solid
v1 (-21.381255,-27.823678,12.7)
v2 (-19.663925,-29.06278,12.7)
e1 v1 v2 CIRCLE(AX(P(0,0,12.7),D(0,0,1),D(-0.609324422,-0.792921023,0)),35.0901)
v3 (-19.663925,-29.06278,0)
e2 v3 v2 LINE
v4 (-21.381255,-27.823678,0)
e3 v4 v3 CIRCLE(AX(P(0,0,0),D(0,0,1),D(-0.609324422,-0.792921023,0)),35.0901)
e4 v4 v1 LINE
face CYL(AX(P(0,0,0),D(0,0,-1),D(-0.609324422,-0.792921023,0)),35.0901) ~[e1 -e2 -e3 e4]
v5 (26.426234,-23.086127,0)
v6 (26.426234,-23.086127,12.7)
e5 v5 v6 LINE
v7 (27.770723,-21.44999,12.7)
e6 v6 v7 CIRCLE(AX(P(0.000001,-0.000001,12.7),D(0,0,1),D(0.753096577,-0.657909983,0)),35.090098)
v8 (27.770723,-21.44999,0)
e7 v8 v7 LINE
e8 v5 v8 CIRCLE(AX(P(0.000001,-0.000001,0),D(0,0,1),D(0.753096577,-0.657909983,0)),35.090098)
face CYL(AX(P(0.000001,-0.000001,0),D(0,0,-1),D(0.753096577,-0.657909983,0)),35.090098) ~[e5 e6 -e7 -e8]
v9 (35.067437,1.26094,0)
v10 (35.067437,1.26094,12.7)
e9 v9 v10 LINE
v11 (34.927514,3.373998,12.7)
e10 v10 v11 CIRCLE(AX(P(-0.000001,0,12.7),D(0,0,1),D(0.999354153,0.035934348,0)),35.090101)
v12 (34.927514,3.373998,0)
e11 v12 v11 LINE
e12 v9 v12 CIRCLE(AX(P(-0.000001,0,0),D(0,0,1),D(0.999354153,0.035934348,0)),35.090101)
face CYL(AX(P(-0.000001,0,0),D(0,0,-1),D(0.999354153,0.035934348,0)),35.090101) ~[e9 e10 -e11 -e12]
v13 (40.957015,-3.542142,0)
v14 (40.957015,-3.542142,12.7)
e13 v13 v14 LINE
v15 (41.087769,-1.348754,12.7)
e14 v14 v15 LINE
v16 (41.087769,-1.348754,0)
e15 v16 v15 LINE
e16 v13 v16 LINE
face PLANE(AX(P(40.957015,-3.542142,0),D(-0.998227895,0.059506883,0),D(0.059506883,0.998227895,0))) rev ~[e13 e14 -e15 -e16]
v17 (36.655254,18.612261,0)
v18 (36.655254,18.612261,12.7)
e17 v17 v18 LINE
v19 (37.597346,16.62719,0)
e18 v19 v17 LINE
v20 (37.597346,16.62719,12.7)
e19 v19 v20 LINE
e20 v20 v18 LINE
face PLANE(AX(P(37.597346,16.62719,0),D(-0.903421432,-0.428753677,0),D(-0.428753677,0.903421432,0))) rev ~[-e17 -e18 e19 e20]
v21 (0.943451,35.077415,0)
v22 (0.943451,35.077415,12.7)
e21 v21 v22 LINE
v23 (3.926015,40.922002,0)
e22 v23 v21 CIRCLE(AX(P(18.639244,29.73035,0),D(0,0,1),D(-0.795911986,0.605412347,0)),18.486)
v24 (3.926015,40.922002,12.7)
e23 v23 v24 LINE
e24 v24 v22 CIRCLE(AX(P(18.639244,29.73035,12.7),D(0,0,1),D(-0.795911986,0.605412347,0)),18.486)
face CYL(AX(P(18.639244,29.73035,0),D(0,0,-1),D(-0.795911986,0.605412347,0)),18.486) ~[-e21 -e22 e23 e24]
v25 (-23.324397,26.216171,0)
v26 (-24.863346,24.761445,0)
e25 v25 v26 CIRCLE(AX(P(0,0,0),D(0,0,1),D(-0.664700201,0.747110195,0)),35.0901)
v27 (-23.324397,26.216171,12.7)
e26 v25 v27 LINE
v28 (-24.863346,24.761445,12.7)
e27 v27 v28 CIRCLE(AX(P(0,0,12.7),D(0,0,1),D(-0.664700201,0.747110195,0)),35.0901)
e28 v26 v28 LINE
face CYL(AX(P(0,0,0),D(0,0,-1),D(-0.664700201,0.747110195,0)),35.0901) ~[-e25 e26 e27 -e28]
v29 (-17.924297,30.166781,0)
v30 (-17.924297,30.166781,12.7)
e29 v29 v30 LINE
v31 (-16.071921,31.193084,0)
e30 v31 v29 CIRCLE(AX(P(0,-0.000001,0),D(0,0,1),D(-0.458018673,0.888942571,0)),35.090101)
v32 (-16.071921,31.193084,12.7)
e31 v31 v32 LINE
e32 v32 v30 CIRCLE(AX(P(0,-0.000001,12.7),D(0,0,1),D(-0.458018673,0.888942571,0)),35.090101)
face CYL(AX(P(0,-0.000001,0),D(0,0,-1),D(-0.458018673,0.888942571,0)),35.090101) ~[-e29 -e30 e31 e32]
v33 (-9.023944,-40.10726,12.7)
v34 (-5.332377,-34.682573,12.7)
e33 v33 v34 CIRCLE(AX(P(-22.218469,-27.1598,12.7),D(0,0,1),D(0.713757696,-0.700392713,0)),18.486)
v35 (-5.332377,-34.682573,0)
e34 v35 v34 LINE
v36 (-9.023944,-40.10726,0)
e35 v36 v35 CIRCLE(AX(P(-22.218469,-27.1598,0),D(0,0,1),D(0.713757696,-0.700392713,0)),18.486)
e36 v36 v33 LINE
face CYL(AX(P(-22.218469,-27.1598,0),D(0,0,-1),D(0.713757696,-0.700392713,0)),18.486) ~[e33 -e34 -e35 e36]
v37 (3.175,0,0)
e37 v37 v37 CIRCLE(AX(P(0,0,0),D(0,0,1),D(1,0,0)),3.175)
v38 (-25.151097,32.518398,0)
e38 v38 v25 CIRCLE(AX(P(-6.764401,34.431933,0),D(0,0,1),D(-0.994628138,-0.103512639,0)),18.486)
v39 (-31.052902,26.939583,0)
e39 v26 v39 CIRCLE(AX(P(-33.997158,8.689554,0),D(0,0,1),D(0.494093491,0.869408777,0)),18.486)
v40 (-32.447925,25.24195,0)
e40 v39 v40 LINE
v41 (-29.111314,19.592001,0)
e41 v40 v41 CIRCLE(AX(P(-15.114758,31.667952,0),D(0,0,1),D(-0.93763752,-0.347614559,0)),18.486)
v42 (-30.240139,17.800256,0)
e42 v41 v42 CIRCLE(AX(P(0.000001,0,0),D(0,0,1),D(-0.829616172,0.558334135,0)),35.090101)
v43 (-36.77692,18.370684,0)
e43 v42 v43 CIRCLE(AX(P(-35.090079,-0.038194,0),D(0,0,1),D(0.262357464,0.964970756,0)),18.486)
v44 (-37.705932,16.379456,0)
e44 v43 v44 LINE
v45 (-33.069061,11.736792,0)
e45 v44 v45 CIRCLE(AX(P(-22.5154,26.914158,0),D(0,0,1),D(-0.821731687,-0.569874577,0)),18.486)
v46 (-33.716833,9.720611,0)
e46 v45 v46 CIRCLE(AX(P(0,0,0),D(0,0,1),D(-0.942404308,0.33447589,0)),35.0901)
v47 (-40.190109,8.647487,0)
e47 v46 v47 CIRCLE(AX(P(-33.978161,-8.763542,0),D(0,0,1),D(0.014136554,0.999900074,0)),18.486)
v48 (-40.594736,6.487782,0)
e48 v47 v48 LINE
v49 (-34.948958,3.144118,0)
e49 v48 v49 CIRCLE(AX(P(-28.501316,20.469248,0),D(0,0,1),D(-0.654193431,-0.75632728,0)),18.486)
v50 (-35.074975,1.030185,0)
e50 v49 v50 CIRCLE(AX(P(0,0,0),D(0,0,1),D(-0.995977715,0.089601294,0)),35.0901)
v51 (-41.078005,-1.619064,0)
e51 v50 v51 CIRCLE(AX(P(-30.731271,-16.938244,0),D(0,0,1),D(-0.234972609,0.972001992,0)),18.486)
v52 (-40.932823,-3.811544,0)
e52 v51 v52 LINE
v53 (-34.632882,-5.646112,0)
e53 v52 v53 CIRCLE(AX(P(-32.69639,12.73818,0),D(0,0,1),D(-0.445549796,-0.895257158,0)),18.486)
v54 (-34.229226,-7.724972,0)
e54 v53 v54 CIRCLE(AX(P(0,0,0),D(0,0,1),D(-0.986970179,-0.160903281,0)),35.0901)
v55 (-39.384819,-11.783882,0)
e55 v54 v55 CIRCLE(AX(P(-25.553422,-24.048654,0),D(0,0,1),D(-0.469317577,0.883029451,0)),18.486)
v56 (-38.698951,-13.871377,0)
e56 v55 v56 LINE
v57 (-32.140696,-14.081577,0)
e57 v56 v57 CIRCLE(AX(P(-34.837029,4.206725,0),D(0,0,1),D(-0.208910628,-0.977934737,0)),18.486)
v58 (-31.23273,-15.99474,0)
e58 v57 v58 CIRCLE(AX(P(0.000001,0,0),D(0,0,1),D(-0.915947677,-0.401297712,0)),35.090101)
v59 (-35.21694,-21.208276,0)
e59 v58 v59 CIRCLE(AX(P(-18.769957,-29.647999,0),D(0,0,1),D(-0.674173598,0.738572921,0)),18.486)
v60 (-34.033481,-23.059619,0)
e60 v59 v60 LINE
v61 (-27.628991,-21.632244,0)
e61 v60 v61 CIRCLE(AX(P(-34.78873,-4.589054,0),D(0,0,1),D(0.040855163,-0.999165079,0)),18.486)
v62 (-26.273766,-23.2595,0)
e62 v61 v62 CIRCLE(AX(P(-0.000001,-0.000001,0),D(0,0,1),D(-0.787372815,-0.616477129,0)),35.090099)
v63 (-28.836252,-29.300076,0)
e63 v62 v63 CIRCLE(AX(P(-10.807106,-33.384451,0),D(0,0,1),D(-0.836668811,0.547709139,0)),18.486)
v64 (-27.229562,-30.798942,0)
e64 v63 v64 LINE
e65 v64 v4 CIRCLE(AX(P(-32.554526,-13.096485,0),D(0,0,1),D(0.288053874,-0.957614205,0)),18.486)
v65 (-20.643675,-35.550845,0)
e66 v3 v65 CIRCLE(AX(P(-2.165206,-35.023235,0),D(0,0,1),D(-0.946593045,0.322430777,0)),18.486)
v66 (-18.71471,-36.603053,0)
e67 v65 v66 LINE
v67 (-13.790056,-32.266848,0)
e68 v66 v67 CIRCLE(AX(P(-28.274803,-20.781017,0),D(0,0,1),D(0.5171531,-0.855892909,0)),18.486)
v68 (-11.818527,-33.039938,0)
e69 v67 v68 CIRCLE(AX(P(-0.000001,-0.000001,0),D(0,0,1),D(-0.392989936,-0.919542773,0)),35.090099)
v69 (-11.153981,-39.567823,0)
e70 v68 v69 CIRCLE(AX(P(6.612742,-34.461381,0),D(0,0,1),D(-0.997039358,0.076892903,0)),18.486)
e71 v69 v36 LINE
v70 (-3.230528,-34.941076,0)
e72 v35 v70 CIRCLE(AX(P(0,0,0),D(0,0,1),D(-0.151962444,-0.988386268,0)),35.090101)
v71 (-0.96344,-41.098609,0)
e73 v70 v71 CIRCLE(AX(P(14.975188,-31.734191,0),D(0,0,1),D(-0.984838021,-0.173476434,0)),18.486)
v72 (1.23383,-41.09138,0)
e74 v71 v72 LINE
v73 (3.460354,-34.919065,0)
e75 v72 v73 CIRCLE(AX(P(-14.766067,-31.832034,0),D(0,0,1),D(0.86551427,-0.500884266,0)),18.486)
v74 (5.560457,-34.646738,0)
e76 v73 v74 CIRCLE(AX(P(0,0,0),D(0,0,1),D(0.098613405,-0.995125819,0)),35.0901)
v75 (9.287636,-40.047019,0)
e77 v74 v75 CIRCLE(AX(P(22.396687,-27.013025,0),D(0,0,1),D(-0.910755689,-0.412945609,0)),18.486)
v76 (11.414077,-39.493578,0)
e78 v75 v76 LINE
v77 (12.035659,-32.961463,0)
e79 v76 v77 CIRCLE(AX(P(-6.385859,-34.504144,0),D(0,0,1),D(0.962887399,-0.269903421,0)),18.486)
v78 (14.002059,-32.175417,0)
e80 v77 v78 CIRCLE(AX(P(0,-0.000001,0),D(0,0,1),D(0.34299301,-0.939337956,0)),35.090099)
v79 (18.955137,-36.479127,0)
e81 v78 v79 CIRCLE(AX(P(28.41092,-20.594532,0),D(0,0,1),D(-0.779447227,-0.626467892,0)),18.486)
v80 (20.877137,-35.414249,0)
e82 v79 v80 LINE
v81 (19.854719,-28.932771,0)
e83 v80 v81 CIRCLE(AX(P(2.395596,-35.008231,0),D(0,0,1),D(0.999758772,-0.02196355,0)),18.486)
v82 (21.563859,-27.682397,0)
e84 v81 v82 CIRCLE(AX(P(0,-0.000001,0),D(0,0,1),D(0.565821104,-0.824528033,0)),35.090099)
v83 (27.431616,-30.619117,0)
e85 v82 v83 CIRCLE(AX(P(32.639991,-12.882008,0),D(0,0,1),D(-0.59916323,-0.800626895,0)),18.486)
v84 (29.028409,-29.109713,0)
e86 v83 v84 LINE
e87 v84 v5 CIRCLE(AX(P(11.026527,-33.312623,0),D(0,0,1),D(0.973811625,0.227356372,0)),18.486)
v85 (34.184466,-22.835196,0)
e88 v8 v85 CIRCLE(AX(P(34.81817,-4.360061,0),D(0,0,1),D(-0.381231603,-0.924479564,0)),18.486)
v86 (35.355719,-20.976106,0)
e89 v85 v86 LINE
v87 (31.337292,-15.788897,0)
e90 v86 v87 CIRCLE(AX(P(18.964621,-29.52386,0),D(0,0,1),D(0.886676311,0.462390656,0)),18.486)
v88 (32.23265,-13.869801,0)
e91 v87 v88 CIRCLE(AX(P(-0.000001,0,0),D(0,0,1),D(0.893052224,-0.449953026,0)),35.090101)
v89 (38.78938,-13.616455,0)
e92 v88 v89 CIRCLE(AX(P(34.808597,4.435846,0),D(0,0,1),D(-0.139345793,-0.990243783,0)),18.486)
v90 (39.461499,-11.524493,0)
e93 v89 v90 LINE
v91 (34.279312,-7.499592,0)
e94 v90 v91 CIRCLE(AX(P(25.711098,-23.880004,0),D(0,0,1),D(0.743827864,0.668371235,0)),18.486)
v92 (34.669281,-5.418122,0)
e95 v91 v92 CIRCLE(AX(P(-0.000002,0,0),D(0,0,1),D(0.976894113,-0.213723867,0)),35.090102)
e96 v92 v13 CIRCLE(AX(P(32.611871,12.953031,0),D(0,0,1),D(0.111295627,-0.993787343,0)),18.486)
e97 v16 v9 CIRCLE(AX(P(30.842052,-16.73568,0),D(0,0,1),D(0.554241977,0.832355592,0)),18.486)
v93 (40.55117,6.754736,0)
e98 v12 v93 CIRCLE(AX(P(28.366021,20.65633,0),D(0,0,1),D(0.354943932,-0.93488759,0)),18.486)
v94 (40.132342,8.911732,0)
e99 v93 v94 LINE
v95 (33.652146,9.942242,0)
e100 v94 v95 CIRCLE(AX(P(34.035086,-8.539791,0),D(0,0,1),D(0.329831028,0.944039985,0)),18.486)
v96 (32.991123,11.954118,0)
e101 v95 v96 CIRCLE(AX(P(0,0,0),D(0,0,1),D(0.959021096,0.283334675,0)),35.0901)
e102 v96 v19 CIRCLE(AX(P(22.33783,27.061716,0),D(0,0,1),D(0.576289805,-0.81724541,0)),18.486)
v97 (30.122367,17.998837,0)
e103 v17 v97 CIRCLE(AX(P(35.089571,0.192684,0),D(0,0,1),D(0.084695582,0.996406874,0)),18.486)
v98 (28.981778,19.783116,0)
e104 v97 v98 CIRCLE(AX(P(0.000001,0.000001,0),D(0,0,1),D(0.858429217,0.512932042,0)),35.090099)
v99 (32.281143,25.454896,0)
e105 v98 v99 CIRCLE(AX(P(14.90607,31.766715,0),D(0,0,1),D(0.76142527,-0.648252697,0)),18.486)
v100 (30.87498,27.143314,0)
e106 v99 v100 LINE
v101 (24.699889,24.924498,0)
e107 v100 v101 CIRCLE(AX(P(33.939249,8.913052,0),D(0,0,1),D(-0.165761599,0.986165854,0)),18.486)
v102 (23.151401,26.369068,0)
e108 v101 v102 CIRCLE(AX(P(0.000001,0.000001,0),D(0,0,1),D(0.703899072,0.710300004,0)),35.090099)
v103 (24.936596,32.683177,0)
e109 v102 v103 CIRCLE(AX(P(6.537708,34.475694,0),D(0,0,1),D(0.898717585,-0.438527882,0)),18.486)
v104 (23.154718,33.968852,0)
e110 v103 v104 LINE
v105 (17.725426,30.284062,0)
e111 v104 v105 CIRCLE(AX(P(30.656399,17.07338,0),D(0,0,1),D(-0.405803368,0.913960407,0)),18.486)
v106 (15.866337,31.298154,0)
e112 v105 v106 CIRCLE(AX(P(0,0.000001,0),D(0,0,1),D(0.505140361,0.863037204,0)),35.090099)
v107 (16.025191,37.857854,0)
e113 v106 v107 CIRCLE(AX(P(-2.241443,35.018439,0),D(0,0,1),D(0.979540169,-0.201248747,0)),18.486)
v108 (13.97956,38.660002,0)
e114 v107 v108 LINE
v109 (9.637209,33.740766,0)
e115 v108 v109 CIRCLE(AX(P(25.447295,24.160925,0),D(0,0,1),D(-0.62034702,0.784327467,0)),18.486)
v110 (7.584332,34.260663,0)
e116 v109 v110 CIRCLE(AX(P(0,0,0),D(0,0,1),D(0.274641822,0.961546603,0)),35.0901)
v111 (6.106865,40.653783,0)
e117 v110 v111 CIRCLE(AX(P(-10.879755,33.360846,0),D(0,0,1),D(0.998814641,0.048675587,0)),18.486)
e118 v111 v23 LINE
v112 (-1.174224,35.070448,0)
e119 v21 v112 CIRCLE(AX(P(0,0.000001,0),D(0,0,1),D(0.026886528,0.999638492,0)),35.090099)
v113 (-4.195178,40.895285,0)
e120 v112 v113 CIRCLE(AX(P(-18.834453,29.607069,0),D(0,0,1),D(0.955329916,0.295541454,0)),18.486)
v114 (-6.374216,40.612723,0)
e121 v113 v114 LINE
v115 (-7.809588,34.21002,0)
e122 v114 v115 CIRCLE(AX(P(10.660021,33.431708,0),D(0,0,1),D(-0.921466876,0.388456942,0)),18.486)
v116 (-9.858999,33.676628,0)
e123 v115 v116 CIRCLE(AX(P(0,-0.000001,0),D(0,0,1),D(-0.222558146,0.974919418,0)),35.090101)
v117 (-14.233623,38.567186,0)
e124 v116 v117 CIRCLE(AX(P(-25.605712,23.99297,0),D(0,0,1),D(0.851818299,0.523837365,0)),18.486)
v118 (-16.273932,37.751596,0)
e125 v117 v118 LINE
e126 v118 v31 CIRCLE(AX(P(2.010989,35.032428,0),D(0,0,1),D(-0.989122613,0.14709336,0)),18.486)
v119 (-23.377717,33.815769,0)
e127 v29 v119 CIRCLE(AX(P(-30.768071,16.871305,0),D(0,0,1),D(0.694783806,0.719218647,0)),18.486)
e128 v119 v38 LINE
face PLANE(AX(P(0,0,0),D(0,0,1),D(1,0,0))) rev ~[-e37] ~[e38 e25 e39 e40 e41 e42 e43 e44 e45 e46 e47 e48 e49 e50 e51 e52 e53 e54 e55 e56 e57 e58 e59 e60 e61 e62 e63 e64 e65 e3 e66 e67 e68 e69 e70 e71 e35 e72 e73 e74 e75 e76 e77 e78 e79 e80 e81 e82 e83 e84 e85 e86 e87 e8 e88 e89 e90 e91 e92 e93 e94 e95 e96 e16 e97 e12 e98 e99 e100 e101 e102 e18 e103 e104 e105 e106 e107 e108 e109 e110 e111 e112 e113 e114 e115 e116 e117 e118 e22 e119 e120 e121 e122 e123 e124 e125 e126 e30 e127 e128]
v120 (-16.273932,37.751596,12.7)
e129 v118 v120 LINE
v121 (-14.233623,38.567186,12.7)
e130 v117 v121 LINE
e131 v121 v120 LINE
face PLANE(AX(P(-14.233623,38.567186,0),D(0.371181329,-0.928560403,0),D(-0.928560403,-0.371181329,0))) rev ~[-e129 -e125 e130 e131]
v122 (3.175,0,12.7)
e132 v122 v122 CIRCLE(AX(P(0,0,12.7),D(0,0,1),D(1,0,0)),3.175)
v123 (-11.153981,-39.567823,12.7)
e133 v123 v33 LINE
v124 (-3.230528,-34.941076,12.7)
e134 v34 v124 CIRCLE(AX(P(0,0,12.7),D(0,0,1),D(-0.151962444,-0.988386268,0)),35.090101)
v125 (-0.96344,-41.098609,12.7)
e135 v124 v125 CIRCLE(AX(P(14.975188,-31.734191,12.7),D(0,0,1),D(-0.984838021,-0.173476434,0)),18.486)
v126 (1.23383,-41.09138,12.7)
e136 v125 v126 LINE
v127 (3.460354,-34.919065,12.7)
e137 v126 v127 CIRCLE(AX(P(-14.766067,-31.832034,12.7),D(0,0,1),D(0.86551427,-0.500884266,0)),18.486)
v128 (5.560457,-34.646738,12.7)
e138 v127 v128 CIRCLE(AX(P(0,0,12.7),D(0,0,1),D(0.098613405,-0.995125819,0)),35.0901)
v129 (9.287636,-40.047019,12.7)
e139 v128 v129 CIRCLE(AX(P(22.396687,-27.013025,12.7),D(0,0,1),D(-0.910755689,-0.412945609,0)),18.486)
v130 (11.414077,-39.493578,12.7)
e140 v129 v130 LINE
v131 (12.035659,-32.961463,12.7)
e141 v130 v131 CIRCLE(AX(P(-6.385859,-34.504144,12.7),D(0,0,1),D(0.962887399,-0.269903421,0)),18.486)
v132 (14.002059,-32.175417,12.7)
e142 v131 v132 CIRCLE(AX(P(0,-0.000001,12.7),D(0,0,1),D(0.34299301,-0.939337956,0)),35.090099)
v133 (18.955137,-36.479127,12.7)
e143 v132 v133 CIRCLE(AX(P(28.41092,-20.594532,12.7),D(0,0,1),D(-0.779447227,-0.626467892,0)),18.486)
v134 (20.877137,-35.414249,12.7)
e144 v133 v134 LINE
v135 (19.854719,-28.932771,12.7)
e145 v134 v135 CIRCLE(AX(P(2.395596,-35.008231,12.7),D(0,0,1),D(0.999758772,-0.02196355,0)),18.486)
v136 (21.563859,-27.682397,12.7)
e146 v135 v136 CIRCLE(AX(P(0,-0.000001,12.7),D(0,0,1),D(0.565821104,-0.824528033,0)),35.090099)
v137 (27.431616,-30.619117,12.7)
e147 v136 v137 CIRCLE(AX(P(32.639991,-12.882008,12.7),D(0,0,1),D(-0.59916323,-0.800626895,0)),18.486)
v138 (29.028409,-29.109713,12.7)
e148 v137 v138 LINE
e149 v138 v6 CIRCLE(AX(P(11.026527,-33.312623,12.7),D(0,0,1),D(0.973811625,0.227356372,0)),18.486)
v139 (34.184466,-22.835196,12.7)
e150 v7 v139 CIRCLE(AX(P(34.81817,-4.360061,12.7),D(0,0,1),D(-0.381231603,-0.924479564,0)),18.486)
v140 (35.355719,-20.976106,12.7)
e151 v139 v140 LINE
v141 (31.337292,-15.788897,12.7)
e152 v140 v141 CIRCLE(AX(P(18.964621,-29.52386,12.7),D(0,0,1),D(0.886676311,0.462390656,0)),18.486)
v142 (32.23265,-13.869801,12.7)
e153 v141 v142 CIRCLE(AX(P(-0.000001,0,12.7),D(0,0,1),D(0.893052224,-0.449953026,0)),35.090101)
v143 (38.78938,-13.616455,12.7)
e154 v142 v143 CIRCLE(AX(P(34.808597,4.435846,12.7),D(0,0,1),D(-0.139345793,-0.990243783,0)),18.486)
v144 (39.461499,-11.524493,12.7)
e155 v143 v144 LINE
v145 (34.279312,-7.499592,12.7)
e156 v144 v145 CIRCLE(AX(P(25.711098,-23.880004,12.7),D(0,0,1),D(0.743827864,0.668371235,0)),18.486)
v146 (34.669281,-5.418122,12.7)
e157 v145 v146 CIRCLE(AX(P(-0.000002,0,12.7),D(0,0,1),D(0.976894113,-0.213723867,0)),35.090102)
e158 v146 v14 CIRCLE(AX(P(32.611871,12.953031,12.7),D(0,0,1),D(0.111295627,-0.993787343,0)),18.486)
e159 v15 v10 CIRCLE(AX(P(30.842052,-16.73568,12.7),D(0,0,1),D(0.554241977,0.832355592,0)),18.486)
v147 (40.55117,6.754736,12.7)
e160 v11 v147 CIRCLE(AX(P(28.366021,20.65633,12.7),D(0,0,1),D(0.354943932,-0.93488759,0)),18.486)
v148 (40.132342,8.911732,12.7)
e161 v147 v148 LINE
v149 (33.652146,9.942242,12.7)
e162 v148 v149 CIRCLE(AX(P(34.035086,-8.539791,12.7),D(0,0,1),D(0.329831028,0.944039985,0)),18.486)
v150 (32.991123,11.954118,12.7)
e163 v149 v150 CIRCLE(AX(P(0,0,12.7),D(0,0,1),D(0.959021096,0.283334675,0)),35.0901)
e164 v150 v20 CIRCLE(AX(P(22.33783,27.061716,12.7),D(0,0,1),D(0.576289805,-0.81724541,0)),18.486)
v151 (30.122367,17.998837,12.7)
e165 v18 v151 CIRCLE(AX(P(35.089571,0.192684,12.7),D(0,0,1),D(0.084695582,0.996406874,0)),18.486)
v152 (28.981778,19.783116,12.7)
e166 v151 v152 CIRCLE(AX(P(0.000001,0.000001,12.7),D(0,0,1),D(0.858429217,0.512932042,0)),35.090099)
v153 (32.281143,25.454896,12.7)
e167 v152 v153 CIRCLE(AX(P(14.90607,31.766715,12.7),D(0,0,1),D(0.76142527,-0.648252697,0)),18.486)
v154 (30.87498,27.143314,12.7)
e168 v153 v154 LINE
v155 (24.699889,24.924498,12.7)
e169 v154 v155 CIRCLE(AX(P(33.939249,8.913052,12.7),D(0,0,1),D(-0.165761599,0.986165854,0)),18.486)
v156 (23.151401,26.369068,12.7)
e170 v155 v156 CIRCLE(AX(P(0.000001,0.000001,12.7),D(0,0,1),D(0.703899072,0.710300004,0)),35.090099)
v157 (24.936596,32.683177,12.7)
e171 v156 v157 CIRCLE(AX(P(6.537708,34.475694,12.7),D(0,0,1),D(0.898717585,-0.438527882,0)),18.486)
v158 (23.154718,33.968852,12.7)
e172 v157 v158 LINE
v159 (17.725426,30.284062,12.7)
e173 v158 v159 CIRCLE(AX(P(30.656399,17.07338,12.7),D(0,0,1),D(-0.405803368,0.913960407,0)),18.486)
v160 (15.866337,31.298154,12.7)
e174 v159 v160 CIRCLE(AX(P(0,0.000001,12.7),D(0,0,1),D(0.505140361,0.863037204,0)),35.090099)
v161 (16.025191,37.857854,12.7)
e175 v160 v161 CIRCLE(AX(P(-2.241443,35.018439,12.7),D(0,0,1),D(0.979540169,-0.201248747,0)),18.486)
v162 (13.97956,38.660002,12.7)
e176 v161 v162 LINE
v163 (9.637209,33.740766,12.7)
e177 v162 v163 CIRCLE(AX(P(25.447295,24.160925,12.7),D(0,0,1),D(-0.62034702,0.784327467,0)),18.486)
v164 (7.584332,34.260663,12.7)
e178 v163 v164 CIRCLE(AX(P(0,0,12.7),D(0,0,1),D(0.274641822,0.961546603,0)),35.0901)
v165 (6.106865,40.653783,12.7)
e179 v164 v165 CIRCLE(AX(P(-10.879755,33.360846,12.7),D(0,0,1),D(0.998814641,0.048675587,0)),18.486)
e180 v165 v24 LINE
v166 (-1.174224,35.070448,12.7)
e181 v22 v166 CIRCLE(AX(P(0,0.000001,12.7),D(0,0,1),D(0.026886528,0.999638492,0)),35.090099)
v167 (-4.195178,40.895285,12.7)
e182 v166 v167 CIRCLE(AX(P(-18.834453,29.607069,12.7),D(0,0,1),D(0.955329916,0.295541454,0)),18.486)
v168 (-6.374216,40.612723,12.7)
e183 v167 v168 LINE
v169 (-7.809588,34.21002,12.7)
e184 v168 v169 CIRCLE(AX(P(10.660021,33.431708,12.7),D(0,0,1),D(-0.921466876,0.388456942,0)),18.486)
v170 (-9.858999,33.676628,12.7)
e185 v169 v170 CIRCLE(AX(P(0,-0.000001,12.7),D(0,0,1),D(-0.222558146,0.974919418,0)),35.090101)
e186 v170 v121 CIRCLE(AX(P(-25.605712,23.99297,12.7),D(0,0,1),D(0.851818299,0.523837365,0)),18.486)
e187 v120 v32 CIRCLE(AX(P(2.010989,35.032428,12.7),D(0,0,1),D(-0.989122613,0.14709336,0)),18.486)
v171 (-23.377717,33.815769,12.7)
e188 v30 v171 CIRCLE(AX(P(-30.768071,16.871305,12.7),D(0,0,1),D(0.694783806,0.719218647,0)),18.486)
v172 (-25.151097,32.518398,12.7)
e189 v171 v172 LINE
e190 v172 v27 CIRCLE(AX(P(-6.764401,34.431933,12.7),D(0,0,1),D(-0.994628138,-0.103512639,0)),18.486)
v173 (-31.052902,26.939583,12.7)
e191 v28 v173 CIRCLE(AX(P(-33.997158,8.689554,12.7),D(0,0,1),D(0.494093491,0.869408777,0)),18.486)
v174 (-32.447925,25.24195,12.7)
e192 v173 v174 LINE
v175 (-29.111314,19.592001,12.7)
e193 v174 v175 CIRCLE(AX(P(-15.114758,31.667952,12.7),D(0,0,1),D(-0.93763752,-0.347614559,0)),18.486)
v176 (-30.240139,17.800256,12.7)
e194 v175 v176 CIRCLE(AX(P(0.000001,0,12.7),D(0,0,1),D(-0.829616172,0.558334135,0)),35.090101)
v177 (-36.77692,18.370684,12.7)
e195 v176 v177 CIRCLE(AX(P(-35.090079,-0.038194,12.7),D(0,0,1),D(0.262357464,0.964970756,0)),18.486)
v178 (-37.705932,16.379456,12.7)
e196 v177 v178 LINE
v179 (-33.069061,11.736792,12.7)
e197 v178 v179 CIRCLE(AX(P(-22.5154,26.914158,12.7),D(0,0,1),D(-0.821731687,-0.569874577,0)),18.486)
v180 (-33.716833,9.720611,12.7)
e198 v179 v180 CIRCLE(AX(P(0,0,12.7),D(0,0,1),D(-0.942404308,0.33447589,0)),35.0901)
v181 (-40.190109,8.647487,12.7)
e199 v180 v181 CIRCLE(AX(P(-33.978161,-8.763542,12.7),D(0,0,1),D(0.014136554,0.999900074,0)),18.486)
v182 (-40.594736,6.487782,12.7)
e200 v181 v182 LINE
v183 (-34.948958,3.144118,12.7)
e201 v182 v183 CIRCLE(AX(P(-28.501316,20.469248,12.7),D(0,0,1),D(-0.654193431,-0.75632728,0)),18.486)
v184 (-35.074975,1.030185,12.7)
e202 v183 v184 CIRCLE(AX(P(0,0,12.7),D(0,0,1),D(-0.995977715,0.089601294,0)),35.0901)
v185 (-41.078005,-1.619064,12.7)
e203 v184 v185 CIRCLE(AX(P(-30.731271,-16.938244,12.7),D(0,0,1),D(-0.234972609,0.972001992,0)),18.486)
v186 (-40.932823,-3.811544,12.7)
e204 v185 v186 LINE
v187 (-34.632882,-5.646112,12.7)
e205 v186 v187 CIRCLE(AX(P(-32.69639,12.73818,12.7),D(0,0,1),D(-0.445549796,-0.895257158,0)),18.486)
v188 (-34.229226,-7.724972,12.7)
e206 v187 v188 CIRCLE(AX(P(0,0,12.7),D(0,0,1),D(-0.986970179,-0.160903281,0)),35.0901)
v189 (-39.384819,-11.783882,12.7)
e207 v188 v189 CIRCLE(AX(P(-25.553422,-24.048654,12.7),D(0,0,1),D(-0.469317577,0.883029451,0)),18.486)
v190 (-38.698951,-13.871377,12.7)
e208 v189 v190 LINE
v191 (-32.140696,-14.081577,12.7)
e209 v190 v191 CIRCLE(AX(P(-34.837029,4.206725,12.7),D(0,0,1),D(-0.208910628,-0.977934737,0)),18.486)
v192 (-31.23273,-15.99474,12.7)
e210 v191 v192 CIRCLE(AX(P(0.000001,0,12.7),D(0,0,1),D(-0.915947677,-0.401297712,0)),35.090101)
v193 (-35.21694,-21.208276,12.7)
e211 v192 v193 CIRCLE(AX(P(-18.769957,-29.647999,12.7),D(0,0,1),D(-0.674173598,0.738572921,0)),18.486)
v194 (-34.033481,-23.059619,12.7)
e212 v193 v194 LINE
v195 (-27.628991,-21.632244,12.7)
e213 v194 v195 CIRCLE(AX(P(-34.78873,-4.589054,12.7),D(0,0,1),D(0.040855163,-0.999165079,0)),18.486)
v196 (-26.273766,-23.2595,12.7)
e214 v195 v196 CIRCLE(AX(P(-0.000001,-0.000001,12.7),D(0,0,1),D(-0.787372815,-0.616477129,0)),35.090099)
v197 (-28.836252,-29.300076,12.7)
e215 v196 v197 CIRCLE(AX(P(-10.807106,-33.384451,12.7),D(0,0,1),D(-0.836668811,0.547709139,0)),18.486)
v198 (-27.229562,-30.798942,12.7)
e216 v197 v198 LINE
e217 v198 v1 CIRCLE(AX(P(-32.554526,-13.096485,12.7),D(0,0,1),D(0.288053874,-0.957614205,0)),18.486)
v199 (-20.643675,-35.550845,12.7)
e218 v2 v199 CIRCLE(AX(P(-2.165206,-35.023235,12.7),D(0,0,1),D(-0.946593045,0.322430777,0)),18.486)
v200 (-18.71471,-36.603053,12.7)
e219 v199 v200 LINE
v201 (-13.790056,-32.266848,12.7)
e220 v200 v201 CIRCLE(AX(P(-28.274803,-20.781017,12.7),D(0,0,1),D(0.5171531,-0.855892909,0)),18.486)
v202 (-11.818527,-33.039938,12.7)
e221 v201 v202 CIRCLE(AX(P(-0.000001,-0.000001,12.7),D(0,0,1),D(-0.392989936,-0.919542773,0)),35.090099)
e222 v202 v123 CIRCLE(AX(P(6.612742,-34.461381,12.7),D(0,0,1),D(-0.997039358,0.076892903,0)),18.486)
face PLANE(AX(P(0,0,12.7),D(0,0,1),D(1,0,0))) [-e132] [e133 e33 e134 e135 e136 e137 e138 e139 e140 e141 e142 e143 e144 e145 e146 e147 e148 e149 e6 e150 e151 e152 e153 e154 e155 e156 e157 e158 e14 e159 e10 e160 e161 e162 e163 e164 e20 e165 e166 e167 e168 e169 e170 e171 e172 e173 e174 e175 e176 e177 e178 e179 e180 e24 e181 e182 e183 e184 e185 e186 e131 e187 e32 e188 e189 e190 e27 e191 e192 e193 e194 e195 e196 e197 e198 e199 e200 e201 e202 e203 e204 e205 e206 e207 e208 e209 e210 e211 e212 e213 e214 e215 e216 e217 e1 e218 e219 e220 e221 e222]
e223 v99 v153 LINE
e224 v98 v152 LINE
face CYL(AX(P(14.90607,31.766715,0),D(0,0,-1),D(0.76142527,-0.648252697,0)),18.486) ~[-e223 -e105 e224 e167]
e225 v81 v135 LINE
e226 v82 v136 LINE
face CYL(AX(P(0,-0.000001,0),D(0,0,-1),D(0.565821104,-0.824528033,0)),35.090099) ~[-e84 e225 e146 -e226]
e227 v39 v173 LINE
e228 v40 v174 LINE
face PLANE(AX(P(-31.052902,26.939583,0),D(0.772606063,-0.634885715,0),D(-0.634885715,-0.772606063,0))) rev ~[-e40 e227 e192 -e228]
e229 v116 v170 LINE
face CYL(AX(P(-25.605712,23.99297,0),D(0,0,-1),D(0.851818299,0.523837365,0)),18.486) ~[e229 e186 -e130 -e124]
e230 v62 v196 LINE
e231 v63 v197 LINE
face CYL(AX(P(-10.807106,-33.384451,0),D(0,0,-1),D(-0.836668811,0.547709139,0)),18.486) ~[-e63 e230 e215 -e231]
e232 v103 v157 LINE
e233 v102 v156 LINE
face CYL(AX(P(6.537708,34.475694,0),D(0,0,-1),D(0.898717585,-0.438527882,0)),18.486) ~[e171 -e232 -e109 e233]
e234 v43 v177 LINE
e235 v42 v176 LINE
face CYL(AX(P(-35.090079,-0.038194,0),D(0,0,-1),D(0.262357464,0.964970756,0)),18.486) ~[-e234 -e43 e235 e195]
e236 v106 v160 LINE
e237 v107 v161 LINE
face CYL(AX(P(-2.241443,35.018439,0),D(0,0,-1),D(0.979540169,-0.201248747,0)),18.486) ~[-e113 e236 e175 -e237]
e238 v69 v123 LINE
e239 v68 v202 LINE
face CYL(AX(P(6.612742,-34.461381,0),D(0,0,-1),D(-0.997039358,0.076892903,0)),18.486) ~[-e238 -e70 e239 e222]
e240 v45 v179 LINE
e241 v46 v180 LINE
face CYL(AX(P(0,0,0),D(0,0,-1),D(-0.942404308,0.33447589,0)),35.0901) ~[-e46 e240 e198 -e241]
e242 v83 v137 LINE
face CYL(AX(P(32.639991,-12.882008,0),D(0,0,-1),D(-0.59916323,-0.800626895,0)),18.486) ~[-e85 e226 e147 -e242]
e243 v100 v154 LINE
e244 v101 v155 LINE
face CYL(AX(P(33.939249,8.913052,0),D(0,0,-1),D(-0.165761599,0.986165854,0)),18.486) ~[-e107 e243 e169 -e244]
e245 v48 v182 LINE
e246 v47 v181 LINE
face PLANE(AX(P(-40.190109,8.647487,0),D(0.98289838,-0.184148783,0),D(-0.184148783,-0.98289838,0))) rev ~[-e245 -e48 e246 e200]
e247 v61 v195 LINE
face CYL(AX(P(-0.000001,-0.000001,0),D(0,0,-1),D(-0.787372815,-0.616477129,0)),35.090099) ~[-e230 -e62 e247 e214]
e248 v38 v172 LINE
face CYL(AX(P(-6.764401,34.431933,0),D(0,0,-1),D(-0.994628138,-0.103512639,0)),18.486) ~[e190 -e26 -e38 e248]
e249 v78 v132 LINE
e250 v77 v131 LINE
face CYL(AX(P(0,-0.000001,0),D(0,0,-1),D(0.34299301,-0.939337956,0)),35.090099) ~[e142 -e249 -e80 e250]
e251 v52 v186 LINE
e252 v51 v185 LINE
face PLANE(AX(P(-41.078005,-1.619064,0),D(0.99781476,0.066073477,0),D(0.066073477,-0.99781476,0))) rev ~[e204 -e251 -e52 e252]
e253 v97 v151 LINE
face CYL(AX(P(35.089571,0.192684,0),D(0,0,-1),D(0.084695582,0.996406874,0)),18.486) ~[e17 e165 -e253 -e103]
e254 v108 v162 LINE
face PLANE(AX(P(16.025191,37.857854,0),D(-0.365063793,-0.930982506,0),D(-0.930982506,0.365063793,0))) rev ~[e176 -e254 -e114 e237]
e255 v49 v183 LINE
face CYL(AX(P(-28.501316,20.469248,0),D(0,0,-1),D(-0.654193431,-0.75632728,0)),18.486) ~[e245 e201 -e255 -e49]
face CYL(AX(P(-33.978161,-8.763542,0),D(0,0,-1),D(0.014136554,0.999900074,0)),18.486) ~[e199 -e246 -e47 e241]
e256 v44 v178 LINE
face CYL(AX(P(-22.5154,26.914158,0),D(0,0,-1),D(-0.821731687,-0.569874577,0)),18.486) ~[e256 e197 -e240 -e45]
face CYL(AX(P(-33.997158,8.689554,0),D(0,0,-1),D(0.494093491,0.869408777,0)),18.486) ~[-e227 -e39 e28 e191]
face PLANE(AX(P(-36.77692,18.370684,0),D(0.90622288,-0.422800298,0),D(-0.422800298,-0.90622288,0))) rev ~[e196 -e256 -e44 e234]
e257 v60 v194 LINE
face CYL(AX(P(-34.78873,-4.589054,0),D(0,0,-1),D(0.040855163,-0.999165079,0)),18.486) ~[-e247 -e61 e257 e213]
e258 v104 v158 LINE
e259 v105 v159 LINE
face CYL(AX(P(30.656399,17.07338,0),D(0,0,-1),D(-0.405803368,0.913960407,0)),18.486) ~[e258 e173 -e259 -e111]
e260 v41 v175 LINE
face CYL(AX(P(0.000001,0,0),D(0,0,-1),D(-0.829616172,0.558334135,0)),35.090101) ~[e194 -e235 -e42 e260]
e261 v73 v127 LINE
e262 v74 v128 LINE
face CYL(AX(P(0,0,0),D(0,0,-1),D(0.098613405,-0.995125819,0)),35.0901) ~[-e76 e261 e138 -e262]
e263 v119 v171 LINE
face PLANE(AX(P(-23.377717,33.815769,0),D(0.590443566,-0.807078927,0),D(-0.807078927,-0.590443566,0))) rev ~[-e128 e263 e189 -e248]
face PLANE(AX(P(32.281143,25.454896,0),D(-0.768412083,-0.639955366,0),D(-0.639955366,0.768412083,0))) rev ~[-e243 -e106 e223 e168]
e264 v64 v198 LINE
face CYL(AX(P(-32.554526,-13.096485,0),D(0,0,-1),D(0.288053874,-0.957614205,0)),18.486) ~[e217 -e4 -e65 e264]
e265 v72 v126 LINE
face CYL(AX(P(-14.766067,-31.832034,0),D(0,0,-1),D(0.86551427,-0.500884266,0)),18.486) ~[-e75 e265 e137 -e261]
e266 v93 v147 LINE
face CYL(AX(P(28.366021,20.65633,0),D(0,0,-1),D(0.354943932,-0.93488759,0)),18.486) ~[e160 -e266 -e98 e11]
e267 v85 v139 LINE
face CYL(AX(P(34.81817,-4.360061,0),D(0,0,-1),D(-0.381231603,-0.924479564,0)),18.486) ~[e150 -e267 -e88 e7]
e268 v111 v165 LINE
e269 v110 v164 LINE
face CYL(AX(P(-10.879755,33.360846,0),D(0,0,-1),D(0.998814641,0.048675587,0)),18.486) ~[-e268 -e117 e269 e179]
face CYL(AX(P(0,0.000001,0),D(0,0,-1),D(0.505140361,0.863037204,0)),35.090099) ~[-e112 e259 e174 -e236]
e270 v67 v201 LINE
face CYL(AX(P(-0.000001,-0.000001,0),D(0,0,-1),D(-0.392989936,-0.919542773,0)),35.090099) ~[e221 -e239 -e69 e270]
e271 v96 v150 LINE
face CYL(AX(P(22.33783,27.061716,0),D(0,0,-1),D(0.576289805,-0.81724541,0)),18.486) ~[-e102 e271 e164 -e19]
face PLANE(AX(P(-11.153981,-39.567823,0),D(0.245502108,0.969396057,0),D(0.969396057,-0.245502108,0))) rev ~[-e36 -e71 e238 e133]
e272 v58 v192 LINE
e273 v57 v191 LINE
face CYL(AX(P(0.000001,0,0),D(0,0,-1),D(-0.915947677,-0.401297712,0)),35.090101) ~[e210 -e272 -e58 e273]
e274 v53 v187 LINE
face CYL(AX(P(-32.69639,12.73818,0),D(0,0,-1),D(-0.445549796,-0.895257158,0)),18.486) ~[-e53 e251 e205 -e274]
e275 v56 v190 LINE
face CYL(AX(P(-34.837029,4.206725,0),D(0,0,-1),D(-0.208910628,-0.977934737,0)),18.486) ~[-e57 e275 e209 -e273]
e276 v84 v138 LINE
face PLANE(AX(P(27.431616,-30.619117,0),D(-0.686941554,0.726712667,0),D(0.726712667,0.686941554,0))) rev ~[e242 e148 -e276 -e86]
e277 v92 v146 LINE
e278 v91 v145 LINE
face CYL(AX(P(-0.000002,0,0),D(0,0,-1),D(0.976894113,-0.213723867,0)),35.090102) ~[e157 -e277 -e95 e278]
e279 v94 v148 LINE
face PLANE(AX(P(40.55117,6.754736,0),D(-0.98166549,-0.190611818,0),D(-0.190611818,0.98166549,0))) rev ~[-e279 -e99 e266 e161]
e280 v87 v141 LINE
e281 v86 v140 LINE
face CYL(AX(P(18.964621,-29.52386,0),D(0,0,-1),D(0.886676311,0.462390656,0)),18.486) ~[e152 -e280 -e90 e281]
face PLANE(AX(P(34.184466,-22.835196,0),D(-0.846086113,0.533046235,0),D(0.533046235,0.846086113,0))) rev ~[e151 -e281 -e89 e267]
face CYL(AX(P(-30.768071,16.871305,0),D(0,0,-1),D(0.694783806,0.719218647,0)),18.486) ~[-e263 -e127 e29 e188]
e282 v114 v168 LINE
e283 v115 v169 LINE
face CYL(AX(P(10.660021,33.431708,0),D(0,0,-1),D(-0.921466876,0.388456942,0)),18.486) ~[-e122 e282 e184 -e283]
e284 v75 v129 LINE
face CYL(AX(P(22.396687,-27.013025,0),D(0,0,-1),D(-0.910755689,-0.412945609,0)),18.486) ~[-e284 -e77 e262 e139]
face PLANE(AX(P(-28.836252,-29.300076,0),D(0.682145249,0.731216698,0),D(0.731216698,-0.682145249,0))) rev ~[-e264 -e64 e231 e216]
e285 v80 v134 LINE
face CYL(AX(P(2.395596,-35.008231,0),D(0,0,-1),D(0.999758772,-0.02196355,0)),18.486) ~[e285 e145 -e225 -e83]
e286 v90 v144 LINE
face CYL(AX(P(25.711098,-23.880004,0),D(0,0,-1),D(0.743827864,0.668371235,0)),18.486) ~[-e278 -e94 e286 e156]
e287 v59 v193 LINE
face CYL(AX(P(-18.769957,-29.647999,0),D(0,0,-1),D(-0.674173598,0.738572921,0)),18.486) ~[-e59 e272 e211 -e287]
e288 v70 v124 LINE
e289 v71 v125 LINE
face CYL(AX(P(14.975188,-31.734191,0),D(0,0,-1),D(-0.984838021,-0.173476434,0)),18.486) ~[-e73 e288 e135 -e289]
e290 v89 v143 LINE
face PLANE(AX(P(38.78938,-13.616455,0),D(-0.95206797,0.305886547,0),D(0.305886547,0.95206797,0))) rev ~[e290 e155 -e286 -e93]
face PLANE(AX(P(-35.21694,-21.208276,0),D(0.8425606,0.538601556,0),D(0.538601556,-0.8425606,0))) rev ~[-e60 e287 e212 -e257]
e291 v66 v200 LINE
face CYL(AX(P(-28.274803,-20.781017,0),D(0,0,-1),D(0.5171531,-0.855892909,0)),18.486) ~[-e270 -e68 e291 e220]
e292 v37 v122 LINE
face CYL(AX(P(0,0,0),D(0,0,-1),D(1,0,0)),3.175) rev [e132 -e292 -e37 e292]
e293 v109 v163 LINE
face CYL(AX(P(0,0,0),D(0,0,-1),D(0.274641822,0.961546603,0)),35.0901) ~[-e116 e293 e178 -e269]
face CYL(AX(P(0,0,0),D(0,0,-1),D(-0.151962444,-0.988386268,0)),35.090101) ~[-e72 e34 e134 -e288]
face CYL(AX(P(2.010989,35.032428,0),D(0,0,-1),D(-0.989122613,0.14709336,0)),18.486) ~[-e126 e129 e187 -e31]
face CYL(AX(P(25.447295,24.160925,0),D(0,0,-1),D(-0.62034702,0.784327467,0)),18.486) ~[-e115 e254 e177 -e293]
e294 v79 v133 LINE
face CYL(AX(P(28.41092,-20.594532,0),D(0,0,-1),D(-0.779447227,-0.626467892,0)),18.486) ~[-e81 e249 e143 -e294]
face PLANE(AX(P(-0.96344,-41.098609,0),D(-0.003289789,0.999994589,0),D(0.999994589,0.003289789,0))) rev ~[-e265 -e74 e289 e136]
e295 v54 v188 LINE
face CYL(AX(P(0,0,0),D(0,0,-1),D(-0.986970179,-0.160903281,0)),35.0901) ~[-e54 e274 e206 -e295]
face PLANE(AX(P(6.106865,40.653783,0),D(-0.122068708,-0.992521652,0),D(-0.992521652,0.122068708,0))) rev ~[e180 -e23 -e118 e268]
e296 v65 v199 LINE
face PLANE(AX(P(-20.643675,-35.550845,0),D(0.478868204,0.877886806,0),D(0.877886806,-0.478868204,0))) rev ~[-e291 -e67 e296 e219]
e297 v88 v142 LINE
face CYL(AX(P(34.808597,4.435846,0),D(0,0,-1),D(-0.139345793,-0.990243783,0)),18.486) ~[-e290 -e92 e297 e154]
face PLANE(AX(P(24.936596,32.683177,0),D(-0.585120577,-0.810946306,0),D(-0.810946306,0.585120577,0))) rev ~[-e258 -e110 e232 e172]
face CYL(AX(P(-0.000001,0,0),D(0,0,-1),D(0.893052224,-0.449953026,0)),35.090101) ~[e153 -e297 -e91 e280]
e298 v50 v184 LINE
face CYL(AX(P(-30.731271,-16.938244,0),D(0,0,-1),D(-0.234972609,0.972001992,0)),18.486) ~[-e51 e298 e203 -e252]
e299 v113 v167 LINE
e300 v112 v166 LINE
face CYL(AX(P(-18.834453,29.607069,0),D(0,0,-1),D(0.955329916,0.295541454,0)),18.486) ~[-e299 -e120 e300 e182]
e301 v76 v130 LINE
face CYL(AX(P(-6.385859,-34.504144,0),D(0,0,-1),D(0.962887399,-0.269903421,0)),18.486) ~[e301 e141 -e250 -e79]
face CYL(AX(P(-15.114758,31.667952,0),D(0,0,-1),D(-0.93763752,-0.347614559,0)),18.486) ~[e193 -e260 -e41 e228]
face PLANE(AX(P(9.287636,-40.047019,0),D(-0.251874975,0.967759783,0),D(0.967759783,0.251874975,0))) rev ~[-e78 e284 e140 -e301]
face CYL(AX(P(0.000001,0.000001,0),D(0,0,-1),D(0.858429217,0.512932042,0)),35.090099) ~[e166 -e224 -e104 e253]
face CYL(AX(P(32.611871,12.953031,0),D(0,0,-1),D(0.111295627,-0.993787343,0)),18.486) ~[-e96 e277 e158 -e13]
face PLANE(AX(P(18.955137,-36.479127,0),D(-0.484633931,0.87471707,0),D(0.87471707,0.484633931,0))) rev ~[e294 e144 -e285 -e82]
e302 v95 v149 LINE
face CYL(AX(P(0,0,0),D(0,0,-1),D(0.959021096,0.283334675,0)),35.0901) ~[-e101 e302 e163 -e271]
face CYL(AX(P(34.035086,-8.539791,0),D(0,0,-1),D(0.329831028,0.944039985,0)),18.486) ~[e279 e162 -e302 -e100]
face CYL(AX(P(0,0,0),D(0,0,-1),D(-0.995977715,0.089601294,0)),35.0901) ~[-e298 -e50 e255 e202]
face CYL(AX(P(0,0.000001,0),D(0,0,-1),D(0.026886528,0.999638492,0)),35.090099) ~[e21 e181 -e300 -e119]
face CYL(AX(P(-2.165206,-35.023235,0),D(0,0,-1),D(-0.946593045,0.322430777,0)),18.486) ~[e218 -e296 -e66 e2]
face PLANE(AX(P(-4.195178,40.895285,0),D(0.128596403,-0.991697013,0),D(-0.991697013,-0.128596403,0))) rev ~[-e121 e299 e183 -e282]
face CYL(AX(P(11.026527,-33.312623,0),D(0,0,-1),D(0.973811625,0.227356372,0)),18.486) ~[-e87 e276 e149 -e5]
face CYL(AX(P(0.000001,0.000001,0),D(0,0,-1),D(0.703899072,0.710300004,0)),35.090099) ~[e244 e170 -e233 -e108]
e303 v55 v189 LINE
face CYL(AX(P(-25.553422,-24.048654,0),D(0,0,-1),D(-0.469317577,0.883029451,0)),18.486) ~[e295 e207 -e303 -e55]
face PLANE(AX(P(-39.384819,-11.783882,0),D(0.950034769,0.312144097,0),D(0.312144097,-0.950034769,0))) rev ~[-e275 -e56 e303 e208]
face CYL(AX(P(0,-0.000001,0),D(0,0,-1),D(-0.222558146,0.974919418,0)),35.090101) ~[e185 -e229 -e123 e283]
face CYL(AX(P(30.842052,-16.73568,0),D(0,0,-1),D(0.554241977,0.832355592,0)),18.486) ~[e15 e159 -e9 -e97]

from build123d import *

# Parameters (mm, degrees)
SKETCH1_R        = 3.175
EXTRUSION2_DEPTH = 12.7


with BuildPart() as part:
    # Sketch1 → Extrusion2 (new body)
    with BuildSketch(Plane.XY):
        with BuildLine():
            Line((-14.233622753, 38.567186329), (-16.273931786, 37.751596287))
            ThreePointArc((-16.273931786, 37.751596287), (-16.466248372, 34.463305312), (-16.071921005, 31.19308374))
            ThreePointArc((-16.071921005, 31.19308374), (-17.005853093, 30.69390947), (-17.924297324, 30.166781125))
            ThreePointArc((-17.924297324, 30.166781125), (-20.487810109, 32.23517311), (-23.377716537, 33.815769214))
            Line((-23.377716537, 33.815769214), (-25.151096514, 32.51839821))
            ThreePointArc((-25.151096514, 32.51839821), (-24.51960641, 29.285587753), (-23.324396528, 26.216171433))
            ThreePointArc((-23.324396528, 26.216171433), (-24.10484783, 25.500420175), (-24.863345957, 24.761444744))
            ThreePointArc((-24.863345957, 24.761444744), (-27.860709444, 26.127334686), (-31.052902414, 26.939582953))
            Line((-31.052902414, 26.939582953), (-32.447925349, 25.241949579))
            ThreePointArc((-32.447925349, 25.241949579), (-31.0323074, 22.26774901), (-29.111314436, 19.592000659))
            ThreePointArc((-29.111314436, 19.592000659), (-29.689246325, 18.704645697), (-30.240139123, 17.800255724))
            ThreePointArc((-30.240139123, 17.800255724), (-33.483017939, 18.377819734), (-36.776920227, 18.370683619))
            Line((-36.776920227, 18.370683619), (-37.7059317, 16.379456422))
            ThreePointArc((-37.7059317, 16.379456422), (-35.595134387, 13.850745701), (-33.069061394, 11.736792429))
            ThreePointArc((-33.069061394, 11.736792429), (-33.408160285, 10.733589538), (-33.716833132, 9.720611171))
            ThreePointArc((-33.716833132, 9.720611171), (-37.001465276, 9.47355878), (-40.190108886, 8.64748667))
            Line((-40.190108886, 8.64748667), (-40.594735688, 6.487781779))
            ThreePointArc((-40.594735688, 6.487781779), (-37.921388171, 4.563449101), (-34.948957606, 3.144118365))
            ThreePointArc((-34.948957606, 3.144118365), (-35.027916668, 2.088102473), (-35.074974514, 1.030184869))
            ThreePointArc((-35.074974514, 1.030184869), (-38.194974467, -0.025960715), (-41.078005196, -1.619063669))
            Line((-41.078005196, -1.619063669), (-40.932823137, -3.811544054))
            ThreePointArc((-40.932823137, -3.811544054), (-37.864901671, -5.01058579), (-34.632882277, -5.646112218))
            ThreePointArc((-34.632882277, -5.646112218), (-34.446740222, -6.688587749), (-34.22922625, -7.724971737))
            ThreePointArc((-34.22922625, -7.724971737), (-36.988552942, -9.523849001), (-39.384819364, -11.783882284))
            Line((-39.384819364, -11.783882284), (-38.698950767, -13.871376555))
            ThreePointArc((-38.698950767, -13.871376555), (-35.429224142, -14.269787147), (-32.140695585, -14.081576806))
            ThreePointArc((-32.140695585, -14.081576806), (-31.701148402, -15.045009405), (-31.232729815, -15.994739958))
            ThreePointArc((-31.232729815, -15.994739958), (-33.4580046, -18.423318829), (-35.216940485, -21.208276236))
            Line((-35.216940485, -21.208276236), (-34.033480996, -23.059619453))
            ThreePointArc((-34.033480996, -23.059619453), (-30.76739816, -22.632365298), (-27.628990783, -21.632244135))
            ThreePointArc((-27.628990783, -21.632244135), (-26.96365684, -22.456097788), (-26.273766099, -23.259499844))
            ThreePointArc((-26.273766099, -23.259499844), (-27.82516678, -26.165183779), (-28.836251716, -29.300076195))
            Line((-28.836251716, -29.300076195), (-27.229562447, -30.798941653))
            ThreePointArc((-27.229562447, -30.798941653), (-24.172343397, -29.572868701), (-21.381254878, -27.823678007))
            ThreePointArc((-21.381254878, -27.823678007), (-20.531939552, -28.456186959), (-19.663925031, -29.062779812))
            ThreePointArc((-19.663925031, -29.062779812), (-20.443971397, -32.262994003), (-20.643675199, -35.550844607))
            Line((-20.643675199, -35.550844607), (-18.714710347, -36.603053078))
            ThreePointArc((-18.714710347, -36.603053078), (-16.058451399, -34.655200002), (-13.790056095, -32.266847861))
            ThreePointArc((-13.790056095, -32.266847861), (-12.810124992, -32.668269249), (-11.818527235, -33.039938438))
            ThreePointArc((-11.818527235, -33.039938438), (-11.778206103, -36.333601659), (-11.153980648, -39.567822706))
            Line((-11.153980648, -39.567822706), (-9.023944168, -40.107260062))
            ThreePointArc((-9.023944168, -40.107260062), (-6.935547841, -37.560017634), (-5.332377371, -34.682572995))
            ThreePointArc((-5.332377371, -34.682572995), (-4.283403166, -34.827684036), (-3.230527907, -34.941076221))
            ThreePointArc((-3.230527907, -34.941076221), (-2.372372803, -38.121235497), (-0.963440471, -41.098608985))
            Line((-0.963440471, -41.098608985), (1.233829612, -41.091380392))
            ThreePointArc((1.233829612, -41.091380392), (2.623141695, -38.104801222), (3.460354235, -34.919064515))
            ThreePointArc((3.460354235, -34.919064515), (4.512460635, -34.798747349), (5.560457371, -34.64673768))
            ThreePointArc((5.560457371, -34.64673768), (7.182525405, -37.513571908), (9.287636214, -40.04701851))
            Line((9.287636214, -40.04701851), (11.414077338, -39.493578168))
            ThreePointArc((11.414077338, -39.493578168), (12.017009592, -36.255320009), (12.035659057, -32.961462787))
            ThreePointArc((12.035659057, -32.961462787), (13.024789938, -32.583277384), (14.002058661, -32.175417188))
            ThreePointArc((14.002058661, -32.175417188), (16.286119127, -34.548792632), (18.955136559, -36.47912658))
            Line((18.955136559, -36.47912658), (20.877136608, -35.414249181))
            ThreePointArc((20.877136608, -35.414249181), (20.65580458, -32.127783703), (19.854719157, -28.932771129))
            ThreePointArc((19.854719157, -28.932771129), (20.718723787, -28.320480269), (21.563859111, -27.682396902))
            ThreePointArc((21.563859111, -27.682396902), (24.366396088, -29.413185652), (27.431615961, -30.619116966))
            Line((27.431615961, -30.619116966), (29.028408604, -29.109712673))
            ThreePointArc((29.028408604, -29.109712673), (27.9967194, -25.981540589), (26.426234232, -23.086127053))
            ThreePointArc((26.426234232, -23.086127053), (27.110824023, -22.278203223), (27.770722986, -21.44998981))
            ThreePointArc((27.770722986, -21.44998981), (30.915642769, -22.429440044), (34.184466045, -22.835195624))
            Line((34.184466045, -22.835195624), (35.355718928, -20.97610586))
            ThreePointArc((35.355718928, -20.97610586), (33.578497375, -18.202781726), (31.337291821, -15.78889671))
            ThreePointArc((31.337291821, -15.78889671), (31.799451478, -14.836104734), (32.232650202, -13.869800971))
            ThreePointArc((32.232650202, -13.869800971), (35.522345915, -14.036370229), (38.789380407, -13.616454959))
            Line((38.789380407, -13.616454959), (39.461499403, -11.524493171))
            ThreePointArc((39.461499403, -11.524493171), (37.050414867, -9.280275142), (34.279312115, -7.499591919))
            ThreePointArc((34.279312115, -7.499591919), (34.490002447, -6.461799222), (34.669281463, -5.418121527))
            ThreePointArc((34.669281463, -5.418121527), (37.897049426, -4.761343649), (40.95701534, -3.542142351))
            Line((40.95701534, -3.542142351), (41.087768741, -1.348754192))
            ThreePointArc((41.087768741, -1.348754192), (38.194318531, 0.225345259), (35.067437158, 1.260939814))
            ThreePointArc((35.067437158, 1.260939814), (35.013419717, 2.318524899), (34.927514264, 3.373998419))
            ThreePointArc((34.927514264, 3.373998419), (37.890541945, 4.812855662), (40.55117037, 6.754736088))
            Line((40.55117037, 6.754736088), (40.132342459, 8.911731973))
            ThreePointArc((40.132342459, 8.911731973), (36.938332693, 9.716806389), (33.652146155, 9.942242061))
            ThreePointArc((33.652146155, 9.942242061), (33.336815056, 10.953167575), (32.99112289, 11.954117636))
            ThreePointArc((32.99112289, 11.954117636), (35.503232362, 14.084645553), (37.597346229, 16.627189616))
            Line((37.597346229, 16.627189616), (36.655253504, 18.612261243))
            ThreePointArc((36.655253504, 18.612261243), (33.361375562, 18.597724838), (30.122367045, 17.998836674))
            ThreePointArc((30.122367045, 17.998836674), (29.565535701, 18.899582449), (28.981777932, 19.783115677))
            ThreePointArc((28.981777932, 19.783115677), (30.885124119, 22.471445363), (32.281142551, 25.454895671))
            Line((32.281142551, 25.454895671), (30.874980162, 27.143313689))
            ThreePointArc((30.874980162, 27.143313689), (27.68820051, 26.310079837), (24.699888832, 24.924498184))
            ThreePointArc((24.699888832, 24.924498184), (23.936545003, 25.65846705), (23.151401279, 26.369067803))
            ThreePointArc((23.151401279, 26.369067803), (24.326389939, 29.446281617), (24.936595965, 32.683177014))
            Line((24.936595965, 32.683177014), (23.154718267, 33.968851909))
            ThreePointArc((23.154718267, 33.968851909), (20.27527399, 32.369275759), (17.725425763, 30.284061807))
            ThreePointArc((17.725425763, 30.284061807), (16.80353315, 30.805135801), (15.866336939, 31.298154421))
            ThreePointArc((15.866336939, 31.298154421), (16.239139213, 34.570899701), (16.025191344, 37.857854144))
            Line((16.025191344, 37.857854144), (13.979560266, 38.660002235))
            ThreePointArc((13.979560266, 38.660002235), (11.588377438, 36.394591039), (9.637209004, 33.74076645))
            ThreePointArc((9.637209004, 33.74076645), (8.61469351, 34.016204576), (7.584332296, 34.26066289))
            ThreePointArc((7.584332296, 34.26066289), (7.131523647, 37.523301014), (6.106865014, 40.653783068))
            Line((6.106865014, 40.653783068), (3.92601508, 40.922002439))
            ThreePointArc((3.92601508, 40.922002439), (2.173340512, 38.133100314), (0.943450961, 35.077414647))
            ThreePointArc((0.943450961, 35.077414647), (-0.115439006, 35.089910115), (-1.174223838, 35.070447907))
            ThreePointArc((-1.174223838, 35.070447907), (-2.424191777, 38.117975323), (-4.195178104, 40.895285287))
            Line((-4.195178104, 40.895285287), (-6.374216073, 40.612722729))
            ThreePointArc((-6.374216073, 40.612722729), (-7.378255391, 37.475566652), (-7.809587577, 34.210019876))
            ThreePointArc((-7.809587577, 34.210019876), (-8.838318064, 33.958787549), (-9.858999169, 33.676627702))
            ThreePointArc((-9.858999169, 33.676627702), (-11.827586317, 36.317557055), (-14.233622753, 38.567186329))
        make_face()
        Circle(SKETCH1_R, mode=Mode.SUBTRACT)
    extrude(amount=EXTRUSION2_DEPTH)


solid = part.part
